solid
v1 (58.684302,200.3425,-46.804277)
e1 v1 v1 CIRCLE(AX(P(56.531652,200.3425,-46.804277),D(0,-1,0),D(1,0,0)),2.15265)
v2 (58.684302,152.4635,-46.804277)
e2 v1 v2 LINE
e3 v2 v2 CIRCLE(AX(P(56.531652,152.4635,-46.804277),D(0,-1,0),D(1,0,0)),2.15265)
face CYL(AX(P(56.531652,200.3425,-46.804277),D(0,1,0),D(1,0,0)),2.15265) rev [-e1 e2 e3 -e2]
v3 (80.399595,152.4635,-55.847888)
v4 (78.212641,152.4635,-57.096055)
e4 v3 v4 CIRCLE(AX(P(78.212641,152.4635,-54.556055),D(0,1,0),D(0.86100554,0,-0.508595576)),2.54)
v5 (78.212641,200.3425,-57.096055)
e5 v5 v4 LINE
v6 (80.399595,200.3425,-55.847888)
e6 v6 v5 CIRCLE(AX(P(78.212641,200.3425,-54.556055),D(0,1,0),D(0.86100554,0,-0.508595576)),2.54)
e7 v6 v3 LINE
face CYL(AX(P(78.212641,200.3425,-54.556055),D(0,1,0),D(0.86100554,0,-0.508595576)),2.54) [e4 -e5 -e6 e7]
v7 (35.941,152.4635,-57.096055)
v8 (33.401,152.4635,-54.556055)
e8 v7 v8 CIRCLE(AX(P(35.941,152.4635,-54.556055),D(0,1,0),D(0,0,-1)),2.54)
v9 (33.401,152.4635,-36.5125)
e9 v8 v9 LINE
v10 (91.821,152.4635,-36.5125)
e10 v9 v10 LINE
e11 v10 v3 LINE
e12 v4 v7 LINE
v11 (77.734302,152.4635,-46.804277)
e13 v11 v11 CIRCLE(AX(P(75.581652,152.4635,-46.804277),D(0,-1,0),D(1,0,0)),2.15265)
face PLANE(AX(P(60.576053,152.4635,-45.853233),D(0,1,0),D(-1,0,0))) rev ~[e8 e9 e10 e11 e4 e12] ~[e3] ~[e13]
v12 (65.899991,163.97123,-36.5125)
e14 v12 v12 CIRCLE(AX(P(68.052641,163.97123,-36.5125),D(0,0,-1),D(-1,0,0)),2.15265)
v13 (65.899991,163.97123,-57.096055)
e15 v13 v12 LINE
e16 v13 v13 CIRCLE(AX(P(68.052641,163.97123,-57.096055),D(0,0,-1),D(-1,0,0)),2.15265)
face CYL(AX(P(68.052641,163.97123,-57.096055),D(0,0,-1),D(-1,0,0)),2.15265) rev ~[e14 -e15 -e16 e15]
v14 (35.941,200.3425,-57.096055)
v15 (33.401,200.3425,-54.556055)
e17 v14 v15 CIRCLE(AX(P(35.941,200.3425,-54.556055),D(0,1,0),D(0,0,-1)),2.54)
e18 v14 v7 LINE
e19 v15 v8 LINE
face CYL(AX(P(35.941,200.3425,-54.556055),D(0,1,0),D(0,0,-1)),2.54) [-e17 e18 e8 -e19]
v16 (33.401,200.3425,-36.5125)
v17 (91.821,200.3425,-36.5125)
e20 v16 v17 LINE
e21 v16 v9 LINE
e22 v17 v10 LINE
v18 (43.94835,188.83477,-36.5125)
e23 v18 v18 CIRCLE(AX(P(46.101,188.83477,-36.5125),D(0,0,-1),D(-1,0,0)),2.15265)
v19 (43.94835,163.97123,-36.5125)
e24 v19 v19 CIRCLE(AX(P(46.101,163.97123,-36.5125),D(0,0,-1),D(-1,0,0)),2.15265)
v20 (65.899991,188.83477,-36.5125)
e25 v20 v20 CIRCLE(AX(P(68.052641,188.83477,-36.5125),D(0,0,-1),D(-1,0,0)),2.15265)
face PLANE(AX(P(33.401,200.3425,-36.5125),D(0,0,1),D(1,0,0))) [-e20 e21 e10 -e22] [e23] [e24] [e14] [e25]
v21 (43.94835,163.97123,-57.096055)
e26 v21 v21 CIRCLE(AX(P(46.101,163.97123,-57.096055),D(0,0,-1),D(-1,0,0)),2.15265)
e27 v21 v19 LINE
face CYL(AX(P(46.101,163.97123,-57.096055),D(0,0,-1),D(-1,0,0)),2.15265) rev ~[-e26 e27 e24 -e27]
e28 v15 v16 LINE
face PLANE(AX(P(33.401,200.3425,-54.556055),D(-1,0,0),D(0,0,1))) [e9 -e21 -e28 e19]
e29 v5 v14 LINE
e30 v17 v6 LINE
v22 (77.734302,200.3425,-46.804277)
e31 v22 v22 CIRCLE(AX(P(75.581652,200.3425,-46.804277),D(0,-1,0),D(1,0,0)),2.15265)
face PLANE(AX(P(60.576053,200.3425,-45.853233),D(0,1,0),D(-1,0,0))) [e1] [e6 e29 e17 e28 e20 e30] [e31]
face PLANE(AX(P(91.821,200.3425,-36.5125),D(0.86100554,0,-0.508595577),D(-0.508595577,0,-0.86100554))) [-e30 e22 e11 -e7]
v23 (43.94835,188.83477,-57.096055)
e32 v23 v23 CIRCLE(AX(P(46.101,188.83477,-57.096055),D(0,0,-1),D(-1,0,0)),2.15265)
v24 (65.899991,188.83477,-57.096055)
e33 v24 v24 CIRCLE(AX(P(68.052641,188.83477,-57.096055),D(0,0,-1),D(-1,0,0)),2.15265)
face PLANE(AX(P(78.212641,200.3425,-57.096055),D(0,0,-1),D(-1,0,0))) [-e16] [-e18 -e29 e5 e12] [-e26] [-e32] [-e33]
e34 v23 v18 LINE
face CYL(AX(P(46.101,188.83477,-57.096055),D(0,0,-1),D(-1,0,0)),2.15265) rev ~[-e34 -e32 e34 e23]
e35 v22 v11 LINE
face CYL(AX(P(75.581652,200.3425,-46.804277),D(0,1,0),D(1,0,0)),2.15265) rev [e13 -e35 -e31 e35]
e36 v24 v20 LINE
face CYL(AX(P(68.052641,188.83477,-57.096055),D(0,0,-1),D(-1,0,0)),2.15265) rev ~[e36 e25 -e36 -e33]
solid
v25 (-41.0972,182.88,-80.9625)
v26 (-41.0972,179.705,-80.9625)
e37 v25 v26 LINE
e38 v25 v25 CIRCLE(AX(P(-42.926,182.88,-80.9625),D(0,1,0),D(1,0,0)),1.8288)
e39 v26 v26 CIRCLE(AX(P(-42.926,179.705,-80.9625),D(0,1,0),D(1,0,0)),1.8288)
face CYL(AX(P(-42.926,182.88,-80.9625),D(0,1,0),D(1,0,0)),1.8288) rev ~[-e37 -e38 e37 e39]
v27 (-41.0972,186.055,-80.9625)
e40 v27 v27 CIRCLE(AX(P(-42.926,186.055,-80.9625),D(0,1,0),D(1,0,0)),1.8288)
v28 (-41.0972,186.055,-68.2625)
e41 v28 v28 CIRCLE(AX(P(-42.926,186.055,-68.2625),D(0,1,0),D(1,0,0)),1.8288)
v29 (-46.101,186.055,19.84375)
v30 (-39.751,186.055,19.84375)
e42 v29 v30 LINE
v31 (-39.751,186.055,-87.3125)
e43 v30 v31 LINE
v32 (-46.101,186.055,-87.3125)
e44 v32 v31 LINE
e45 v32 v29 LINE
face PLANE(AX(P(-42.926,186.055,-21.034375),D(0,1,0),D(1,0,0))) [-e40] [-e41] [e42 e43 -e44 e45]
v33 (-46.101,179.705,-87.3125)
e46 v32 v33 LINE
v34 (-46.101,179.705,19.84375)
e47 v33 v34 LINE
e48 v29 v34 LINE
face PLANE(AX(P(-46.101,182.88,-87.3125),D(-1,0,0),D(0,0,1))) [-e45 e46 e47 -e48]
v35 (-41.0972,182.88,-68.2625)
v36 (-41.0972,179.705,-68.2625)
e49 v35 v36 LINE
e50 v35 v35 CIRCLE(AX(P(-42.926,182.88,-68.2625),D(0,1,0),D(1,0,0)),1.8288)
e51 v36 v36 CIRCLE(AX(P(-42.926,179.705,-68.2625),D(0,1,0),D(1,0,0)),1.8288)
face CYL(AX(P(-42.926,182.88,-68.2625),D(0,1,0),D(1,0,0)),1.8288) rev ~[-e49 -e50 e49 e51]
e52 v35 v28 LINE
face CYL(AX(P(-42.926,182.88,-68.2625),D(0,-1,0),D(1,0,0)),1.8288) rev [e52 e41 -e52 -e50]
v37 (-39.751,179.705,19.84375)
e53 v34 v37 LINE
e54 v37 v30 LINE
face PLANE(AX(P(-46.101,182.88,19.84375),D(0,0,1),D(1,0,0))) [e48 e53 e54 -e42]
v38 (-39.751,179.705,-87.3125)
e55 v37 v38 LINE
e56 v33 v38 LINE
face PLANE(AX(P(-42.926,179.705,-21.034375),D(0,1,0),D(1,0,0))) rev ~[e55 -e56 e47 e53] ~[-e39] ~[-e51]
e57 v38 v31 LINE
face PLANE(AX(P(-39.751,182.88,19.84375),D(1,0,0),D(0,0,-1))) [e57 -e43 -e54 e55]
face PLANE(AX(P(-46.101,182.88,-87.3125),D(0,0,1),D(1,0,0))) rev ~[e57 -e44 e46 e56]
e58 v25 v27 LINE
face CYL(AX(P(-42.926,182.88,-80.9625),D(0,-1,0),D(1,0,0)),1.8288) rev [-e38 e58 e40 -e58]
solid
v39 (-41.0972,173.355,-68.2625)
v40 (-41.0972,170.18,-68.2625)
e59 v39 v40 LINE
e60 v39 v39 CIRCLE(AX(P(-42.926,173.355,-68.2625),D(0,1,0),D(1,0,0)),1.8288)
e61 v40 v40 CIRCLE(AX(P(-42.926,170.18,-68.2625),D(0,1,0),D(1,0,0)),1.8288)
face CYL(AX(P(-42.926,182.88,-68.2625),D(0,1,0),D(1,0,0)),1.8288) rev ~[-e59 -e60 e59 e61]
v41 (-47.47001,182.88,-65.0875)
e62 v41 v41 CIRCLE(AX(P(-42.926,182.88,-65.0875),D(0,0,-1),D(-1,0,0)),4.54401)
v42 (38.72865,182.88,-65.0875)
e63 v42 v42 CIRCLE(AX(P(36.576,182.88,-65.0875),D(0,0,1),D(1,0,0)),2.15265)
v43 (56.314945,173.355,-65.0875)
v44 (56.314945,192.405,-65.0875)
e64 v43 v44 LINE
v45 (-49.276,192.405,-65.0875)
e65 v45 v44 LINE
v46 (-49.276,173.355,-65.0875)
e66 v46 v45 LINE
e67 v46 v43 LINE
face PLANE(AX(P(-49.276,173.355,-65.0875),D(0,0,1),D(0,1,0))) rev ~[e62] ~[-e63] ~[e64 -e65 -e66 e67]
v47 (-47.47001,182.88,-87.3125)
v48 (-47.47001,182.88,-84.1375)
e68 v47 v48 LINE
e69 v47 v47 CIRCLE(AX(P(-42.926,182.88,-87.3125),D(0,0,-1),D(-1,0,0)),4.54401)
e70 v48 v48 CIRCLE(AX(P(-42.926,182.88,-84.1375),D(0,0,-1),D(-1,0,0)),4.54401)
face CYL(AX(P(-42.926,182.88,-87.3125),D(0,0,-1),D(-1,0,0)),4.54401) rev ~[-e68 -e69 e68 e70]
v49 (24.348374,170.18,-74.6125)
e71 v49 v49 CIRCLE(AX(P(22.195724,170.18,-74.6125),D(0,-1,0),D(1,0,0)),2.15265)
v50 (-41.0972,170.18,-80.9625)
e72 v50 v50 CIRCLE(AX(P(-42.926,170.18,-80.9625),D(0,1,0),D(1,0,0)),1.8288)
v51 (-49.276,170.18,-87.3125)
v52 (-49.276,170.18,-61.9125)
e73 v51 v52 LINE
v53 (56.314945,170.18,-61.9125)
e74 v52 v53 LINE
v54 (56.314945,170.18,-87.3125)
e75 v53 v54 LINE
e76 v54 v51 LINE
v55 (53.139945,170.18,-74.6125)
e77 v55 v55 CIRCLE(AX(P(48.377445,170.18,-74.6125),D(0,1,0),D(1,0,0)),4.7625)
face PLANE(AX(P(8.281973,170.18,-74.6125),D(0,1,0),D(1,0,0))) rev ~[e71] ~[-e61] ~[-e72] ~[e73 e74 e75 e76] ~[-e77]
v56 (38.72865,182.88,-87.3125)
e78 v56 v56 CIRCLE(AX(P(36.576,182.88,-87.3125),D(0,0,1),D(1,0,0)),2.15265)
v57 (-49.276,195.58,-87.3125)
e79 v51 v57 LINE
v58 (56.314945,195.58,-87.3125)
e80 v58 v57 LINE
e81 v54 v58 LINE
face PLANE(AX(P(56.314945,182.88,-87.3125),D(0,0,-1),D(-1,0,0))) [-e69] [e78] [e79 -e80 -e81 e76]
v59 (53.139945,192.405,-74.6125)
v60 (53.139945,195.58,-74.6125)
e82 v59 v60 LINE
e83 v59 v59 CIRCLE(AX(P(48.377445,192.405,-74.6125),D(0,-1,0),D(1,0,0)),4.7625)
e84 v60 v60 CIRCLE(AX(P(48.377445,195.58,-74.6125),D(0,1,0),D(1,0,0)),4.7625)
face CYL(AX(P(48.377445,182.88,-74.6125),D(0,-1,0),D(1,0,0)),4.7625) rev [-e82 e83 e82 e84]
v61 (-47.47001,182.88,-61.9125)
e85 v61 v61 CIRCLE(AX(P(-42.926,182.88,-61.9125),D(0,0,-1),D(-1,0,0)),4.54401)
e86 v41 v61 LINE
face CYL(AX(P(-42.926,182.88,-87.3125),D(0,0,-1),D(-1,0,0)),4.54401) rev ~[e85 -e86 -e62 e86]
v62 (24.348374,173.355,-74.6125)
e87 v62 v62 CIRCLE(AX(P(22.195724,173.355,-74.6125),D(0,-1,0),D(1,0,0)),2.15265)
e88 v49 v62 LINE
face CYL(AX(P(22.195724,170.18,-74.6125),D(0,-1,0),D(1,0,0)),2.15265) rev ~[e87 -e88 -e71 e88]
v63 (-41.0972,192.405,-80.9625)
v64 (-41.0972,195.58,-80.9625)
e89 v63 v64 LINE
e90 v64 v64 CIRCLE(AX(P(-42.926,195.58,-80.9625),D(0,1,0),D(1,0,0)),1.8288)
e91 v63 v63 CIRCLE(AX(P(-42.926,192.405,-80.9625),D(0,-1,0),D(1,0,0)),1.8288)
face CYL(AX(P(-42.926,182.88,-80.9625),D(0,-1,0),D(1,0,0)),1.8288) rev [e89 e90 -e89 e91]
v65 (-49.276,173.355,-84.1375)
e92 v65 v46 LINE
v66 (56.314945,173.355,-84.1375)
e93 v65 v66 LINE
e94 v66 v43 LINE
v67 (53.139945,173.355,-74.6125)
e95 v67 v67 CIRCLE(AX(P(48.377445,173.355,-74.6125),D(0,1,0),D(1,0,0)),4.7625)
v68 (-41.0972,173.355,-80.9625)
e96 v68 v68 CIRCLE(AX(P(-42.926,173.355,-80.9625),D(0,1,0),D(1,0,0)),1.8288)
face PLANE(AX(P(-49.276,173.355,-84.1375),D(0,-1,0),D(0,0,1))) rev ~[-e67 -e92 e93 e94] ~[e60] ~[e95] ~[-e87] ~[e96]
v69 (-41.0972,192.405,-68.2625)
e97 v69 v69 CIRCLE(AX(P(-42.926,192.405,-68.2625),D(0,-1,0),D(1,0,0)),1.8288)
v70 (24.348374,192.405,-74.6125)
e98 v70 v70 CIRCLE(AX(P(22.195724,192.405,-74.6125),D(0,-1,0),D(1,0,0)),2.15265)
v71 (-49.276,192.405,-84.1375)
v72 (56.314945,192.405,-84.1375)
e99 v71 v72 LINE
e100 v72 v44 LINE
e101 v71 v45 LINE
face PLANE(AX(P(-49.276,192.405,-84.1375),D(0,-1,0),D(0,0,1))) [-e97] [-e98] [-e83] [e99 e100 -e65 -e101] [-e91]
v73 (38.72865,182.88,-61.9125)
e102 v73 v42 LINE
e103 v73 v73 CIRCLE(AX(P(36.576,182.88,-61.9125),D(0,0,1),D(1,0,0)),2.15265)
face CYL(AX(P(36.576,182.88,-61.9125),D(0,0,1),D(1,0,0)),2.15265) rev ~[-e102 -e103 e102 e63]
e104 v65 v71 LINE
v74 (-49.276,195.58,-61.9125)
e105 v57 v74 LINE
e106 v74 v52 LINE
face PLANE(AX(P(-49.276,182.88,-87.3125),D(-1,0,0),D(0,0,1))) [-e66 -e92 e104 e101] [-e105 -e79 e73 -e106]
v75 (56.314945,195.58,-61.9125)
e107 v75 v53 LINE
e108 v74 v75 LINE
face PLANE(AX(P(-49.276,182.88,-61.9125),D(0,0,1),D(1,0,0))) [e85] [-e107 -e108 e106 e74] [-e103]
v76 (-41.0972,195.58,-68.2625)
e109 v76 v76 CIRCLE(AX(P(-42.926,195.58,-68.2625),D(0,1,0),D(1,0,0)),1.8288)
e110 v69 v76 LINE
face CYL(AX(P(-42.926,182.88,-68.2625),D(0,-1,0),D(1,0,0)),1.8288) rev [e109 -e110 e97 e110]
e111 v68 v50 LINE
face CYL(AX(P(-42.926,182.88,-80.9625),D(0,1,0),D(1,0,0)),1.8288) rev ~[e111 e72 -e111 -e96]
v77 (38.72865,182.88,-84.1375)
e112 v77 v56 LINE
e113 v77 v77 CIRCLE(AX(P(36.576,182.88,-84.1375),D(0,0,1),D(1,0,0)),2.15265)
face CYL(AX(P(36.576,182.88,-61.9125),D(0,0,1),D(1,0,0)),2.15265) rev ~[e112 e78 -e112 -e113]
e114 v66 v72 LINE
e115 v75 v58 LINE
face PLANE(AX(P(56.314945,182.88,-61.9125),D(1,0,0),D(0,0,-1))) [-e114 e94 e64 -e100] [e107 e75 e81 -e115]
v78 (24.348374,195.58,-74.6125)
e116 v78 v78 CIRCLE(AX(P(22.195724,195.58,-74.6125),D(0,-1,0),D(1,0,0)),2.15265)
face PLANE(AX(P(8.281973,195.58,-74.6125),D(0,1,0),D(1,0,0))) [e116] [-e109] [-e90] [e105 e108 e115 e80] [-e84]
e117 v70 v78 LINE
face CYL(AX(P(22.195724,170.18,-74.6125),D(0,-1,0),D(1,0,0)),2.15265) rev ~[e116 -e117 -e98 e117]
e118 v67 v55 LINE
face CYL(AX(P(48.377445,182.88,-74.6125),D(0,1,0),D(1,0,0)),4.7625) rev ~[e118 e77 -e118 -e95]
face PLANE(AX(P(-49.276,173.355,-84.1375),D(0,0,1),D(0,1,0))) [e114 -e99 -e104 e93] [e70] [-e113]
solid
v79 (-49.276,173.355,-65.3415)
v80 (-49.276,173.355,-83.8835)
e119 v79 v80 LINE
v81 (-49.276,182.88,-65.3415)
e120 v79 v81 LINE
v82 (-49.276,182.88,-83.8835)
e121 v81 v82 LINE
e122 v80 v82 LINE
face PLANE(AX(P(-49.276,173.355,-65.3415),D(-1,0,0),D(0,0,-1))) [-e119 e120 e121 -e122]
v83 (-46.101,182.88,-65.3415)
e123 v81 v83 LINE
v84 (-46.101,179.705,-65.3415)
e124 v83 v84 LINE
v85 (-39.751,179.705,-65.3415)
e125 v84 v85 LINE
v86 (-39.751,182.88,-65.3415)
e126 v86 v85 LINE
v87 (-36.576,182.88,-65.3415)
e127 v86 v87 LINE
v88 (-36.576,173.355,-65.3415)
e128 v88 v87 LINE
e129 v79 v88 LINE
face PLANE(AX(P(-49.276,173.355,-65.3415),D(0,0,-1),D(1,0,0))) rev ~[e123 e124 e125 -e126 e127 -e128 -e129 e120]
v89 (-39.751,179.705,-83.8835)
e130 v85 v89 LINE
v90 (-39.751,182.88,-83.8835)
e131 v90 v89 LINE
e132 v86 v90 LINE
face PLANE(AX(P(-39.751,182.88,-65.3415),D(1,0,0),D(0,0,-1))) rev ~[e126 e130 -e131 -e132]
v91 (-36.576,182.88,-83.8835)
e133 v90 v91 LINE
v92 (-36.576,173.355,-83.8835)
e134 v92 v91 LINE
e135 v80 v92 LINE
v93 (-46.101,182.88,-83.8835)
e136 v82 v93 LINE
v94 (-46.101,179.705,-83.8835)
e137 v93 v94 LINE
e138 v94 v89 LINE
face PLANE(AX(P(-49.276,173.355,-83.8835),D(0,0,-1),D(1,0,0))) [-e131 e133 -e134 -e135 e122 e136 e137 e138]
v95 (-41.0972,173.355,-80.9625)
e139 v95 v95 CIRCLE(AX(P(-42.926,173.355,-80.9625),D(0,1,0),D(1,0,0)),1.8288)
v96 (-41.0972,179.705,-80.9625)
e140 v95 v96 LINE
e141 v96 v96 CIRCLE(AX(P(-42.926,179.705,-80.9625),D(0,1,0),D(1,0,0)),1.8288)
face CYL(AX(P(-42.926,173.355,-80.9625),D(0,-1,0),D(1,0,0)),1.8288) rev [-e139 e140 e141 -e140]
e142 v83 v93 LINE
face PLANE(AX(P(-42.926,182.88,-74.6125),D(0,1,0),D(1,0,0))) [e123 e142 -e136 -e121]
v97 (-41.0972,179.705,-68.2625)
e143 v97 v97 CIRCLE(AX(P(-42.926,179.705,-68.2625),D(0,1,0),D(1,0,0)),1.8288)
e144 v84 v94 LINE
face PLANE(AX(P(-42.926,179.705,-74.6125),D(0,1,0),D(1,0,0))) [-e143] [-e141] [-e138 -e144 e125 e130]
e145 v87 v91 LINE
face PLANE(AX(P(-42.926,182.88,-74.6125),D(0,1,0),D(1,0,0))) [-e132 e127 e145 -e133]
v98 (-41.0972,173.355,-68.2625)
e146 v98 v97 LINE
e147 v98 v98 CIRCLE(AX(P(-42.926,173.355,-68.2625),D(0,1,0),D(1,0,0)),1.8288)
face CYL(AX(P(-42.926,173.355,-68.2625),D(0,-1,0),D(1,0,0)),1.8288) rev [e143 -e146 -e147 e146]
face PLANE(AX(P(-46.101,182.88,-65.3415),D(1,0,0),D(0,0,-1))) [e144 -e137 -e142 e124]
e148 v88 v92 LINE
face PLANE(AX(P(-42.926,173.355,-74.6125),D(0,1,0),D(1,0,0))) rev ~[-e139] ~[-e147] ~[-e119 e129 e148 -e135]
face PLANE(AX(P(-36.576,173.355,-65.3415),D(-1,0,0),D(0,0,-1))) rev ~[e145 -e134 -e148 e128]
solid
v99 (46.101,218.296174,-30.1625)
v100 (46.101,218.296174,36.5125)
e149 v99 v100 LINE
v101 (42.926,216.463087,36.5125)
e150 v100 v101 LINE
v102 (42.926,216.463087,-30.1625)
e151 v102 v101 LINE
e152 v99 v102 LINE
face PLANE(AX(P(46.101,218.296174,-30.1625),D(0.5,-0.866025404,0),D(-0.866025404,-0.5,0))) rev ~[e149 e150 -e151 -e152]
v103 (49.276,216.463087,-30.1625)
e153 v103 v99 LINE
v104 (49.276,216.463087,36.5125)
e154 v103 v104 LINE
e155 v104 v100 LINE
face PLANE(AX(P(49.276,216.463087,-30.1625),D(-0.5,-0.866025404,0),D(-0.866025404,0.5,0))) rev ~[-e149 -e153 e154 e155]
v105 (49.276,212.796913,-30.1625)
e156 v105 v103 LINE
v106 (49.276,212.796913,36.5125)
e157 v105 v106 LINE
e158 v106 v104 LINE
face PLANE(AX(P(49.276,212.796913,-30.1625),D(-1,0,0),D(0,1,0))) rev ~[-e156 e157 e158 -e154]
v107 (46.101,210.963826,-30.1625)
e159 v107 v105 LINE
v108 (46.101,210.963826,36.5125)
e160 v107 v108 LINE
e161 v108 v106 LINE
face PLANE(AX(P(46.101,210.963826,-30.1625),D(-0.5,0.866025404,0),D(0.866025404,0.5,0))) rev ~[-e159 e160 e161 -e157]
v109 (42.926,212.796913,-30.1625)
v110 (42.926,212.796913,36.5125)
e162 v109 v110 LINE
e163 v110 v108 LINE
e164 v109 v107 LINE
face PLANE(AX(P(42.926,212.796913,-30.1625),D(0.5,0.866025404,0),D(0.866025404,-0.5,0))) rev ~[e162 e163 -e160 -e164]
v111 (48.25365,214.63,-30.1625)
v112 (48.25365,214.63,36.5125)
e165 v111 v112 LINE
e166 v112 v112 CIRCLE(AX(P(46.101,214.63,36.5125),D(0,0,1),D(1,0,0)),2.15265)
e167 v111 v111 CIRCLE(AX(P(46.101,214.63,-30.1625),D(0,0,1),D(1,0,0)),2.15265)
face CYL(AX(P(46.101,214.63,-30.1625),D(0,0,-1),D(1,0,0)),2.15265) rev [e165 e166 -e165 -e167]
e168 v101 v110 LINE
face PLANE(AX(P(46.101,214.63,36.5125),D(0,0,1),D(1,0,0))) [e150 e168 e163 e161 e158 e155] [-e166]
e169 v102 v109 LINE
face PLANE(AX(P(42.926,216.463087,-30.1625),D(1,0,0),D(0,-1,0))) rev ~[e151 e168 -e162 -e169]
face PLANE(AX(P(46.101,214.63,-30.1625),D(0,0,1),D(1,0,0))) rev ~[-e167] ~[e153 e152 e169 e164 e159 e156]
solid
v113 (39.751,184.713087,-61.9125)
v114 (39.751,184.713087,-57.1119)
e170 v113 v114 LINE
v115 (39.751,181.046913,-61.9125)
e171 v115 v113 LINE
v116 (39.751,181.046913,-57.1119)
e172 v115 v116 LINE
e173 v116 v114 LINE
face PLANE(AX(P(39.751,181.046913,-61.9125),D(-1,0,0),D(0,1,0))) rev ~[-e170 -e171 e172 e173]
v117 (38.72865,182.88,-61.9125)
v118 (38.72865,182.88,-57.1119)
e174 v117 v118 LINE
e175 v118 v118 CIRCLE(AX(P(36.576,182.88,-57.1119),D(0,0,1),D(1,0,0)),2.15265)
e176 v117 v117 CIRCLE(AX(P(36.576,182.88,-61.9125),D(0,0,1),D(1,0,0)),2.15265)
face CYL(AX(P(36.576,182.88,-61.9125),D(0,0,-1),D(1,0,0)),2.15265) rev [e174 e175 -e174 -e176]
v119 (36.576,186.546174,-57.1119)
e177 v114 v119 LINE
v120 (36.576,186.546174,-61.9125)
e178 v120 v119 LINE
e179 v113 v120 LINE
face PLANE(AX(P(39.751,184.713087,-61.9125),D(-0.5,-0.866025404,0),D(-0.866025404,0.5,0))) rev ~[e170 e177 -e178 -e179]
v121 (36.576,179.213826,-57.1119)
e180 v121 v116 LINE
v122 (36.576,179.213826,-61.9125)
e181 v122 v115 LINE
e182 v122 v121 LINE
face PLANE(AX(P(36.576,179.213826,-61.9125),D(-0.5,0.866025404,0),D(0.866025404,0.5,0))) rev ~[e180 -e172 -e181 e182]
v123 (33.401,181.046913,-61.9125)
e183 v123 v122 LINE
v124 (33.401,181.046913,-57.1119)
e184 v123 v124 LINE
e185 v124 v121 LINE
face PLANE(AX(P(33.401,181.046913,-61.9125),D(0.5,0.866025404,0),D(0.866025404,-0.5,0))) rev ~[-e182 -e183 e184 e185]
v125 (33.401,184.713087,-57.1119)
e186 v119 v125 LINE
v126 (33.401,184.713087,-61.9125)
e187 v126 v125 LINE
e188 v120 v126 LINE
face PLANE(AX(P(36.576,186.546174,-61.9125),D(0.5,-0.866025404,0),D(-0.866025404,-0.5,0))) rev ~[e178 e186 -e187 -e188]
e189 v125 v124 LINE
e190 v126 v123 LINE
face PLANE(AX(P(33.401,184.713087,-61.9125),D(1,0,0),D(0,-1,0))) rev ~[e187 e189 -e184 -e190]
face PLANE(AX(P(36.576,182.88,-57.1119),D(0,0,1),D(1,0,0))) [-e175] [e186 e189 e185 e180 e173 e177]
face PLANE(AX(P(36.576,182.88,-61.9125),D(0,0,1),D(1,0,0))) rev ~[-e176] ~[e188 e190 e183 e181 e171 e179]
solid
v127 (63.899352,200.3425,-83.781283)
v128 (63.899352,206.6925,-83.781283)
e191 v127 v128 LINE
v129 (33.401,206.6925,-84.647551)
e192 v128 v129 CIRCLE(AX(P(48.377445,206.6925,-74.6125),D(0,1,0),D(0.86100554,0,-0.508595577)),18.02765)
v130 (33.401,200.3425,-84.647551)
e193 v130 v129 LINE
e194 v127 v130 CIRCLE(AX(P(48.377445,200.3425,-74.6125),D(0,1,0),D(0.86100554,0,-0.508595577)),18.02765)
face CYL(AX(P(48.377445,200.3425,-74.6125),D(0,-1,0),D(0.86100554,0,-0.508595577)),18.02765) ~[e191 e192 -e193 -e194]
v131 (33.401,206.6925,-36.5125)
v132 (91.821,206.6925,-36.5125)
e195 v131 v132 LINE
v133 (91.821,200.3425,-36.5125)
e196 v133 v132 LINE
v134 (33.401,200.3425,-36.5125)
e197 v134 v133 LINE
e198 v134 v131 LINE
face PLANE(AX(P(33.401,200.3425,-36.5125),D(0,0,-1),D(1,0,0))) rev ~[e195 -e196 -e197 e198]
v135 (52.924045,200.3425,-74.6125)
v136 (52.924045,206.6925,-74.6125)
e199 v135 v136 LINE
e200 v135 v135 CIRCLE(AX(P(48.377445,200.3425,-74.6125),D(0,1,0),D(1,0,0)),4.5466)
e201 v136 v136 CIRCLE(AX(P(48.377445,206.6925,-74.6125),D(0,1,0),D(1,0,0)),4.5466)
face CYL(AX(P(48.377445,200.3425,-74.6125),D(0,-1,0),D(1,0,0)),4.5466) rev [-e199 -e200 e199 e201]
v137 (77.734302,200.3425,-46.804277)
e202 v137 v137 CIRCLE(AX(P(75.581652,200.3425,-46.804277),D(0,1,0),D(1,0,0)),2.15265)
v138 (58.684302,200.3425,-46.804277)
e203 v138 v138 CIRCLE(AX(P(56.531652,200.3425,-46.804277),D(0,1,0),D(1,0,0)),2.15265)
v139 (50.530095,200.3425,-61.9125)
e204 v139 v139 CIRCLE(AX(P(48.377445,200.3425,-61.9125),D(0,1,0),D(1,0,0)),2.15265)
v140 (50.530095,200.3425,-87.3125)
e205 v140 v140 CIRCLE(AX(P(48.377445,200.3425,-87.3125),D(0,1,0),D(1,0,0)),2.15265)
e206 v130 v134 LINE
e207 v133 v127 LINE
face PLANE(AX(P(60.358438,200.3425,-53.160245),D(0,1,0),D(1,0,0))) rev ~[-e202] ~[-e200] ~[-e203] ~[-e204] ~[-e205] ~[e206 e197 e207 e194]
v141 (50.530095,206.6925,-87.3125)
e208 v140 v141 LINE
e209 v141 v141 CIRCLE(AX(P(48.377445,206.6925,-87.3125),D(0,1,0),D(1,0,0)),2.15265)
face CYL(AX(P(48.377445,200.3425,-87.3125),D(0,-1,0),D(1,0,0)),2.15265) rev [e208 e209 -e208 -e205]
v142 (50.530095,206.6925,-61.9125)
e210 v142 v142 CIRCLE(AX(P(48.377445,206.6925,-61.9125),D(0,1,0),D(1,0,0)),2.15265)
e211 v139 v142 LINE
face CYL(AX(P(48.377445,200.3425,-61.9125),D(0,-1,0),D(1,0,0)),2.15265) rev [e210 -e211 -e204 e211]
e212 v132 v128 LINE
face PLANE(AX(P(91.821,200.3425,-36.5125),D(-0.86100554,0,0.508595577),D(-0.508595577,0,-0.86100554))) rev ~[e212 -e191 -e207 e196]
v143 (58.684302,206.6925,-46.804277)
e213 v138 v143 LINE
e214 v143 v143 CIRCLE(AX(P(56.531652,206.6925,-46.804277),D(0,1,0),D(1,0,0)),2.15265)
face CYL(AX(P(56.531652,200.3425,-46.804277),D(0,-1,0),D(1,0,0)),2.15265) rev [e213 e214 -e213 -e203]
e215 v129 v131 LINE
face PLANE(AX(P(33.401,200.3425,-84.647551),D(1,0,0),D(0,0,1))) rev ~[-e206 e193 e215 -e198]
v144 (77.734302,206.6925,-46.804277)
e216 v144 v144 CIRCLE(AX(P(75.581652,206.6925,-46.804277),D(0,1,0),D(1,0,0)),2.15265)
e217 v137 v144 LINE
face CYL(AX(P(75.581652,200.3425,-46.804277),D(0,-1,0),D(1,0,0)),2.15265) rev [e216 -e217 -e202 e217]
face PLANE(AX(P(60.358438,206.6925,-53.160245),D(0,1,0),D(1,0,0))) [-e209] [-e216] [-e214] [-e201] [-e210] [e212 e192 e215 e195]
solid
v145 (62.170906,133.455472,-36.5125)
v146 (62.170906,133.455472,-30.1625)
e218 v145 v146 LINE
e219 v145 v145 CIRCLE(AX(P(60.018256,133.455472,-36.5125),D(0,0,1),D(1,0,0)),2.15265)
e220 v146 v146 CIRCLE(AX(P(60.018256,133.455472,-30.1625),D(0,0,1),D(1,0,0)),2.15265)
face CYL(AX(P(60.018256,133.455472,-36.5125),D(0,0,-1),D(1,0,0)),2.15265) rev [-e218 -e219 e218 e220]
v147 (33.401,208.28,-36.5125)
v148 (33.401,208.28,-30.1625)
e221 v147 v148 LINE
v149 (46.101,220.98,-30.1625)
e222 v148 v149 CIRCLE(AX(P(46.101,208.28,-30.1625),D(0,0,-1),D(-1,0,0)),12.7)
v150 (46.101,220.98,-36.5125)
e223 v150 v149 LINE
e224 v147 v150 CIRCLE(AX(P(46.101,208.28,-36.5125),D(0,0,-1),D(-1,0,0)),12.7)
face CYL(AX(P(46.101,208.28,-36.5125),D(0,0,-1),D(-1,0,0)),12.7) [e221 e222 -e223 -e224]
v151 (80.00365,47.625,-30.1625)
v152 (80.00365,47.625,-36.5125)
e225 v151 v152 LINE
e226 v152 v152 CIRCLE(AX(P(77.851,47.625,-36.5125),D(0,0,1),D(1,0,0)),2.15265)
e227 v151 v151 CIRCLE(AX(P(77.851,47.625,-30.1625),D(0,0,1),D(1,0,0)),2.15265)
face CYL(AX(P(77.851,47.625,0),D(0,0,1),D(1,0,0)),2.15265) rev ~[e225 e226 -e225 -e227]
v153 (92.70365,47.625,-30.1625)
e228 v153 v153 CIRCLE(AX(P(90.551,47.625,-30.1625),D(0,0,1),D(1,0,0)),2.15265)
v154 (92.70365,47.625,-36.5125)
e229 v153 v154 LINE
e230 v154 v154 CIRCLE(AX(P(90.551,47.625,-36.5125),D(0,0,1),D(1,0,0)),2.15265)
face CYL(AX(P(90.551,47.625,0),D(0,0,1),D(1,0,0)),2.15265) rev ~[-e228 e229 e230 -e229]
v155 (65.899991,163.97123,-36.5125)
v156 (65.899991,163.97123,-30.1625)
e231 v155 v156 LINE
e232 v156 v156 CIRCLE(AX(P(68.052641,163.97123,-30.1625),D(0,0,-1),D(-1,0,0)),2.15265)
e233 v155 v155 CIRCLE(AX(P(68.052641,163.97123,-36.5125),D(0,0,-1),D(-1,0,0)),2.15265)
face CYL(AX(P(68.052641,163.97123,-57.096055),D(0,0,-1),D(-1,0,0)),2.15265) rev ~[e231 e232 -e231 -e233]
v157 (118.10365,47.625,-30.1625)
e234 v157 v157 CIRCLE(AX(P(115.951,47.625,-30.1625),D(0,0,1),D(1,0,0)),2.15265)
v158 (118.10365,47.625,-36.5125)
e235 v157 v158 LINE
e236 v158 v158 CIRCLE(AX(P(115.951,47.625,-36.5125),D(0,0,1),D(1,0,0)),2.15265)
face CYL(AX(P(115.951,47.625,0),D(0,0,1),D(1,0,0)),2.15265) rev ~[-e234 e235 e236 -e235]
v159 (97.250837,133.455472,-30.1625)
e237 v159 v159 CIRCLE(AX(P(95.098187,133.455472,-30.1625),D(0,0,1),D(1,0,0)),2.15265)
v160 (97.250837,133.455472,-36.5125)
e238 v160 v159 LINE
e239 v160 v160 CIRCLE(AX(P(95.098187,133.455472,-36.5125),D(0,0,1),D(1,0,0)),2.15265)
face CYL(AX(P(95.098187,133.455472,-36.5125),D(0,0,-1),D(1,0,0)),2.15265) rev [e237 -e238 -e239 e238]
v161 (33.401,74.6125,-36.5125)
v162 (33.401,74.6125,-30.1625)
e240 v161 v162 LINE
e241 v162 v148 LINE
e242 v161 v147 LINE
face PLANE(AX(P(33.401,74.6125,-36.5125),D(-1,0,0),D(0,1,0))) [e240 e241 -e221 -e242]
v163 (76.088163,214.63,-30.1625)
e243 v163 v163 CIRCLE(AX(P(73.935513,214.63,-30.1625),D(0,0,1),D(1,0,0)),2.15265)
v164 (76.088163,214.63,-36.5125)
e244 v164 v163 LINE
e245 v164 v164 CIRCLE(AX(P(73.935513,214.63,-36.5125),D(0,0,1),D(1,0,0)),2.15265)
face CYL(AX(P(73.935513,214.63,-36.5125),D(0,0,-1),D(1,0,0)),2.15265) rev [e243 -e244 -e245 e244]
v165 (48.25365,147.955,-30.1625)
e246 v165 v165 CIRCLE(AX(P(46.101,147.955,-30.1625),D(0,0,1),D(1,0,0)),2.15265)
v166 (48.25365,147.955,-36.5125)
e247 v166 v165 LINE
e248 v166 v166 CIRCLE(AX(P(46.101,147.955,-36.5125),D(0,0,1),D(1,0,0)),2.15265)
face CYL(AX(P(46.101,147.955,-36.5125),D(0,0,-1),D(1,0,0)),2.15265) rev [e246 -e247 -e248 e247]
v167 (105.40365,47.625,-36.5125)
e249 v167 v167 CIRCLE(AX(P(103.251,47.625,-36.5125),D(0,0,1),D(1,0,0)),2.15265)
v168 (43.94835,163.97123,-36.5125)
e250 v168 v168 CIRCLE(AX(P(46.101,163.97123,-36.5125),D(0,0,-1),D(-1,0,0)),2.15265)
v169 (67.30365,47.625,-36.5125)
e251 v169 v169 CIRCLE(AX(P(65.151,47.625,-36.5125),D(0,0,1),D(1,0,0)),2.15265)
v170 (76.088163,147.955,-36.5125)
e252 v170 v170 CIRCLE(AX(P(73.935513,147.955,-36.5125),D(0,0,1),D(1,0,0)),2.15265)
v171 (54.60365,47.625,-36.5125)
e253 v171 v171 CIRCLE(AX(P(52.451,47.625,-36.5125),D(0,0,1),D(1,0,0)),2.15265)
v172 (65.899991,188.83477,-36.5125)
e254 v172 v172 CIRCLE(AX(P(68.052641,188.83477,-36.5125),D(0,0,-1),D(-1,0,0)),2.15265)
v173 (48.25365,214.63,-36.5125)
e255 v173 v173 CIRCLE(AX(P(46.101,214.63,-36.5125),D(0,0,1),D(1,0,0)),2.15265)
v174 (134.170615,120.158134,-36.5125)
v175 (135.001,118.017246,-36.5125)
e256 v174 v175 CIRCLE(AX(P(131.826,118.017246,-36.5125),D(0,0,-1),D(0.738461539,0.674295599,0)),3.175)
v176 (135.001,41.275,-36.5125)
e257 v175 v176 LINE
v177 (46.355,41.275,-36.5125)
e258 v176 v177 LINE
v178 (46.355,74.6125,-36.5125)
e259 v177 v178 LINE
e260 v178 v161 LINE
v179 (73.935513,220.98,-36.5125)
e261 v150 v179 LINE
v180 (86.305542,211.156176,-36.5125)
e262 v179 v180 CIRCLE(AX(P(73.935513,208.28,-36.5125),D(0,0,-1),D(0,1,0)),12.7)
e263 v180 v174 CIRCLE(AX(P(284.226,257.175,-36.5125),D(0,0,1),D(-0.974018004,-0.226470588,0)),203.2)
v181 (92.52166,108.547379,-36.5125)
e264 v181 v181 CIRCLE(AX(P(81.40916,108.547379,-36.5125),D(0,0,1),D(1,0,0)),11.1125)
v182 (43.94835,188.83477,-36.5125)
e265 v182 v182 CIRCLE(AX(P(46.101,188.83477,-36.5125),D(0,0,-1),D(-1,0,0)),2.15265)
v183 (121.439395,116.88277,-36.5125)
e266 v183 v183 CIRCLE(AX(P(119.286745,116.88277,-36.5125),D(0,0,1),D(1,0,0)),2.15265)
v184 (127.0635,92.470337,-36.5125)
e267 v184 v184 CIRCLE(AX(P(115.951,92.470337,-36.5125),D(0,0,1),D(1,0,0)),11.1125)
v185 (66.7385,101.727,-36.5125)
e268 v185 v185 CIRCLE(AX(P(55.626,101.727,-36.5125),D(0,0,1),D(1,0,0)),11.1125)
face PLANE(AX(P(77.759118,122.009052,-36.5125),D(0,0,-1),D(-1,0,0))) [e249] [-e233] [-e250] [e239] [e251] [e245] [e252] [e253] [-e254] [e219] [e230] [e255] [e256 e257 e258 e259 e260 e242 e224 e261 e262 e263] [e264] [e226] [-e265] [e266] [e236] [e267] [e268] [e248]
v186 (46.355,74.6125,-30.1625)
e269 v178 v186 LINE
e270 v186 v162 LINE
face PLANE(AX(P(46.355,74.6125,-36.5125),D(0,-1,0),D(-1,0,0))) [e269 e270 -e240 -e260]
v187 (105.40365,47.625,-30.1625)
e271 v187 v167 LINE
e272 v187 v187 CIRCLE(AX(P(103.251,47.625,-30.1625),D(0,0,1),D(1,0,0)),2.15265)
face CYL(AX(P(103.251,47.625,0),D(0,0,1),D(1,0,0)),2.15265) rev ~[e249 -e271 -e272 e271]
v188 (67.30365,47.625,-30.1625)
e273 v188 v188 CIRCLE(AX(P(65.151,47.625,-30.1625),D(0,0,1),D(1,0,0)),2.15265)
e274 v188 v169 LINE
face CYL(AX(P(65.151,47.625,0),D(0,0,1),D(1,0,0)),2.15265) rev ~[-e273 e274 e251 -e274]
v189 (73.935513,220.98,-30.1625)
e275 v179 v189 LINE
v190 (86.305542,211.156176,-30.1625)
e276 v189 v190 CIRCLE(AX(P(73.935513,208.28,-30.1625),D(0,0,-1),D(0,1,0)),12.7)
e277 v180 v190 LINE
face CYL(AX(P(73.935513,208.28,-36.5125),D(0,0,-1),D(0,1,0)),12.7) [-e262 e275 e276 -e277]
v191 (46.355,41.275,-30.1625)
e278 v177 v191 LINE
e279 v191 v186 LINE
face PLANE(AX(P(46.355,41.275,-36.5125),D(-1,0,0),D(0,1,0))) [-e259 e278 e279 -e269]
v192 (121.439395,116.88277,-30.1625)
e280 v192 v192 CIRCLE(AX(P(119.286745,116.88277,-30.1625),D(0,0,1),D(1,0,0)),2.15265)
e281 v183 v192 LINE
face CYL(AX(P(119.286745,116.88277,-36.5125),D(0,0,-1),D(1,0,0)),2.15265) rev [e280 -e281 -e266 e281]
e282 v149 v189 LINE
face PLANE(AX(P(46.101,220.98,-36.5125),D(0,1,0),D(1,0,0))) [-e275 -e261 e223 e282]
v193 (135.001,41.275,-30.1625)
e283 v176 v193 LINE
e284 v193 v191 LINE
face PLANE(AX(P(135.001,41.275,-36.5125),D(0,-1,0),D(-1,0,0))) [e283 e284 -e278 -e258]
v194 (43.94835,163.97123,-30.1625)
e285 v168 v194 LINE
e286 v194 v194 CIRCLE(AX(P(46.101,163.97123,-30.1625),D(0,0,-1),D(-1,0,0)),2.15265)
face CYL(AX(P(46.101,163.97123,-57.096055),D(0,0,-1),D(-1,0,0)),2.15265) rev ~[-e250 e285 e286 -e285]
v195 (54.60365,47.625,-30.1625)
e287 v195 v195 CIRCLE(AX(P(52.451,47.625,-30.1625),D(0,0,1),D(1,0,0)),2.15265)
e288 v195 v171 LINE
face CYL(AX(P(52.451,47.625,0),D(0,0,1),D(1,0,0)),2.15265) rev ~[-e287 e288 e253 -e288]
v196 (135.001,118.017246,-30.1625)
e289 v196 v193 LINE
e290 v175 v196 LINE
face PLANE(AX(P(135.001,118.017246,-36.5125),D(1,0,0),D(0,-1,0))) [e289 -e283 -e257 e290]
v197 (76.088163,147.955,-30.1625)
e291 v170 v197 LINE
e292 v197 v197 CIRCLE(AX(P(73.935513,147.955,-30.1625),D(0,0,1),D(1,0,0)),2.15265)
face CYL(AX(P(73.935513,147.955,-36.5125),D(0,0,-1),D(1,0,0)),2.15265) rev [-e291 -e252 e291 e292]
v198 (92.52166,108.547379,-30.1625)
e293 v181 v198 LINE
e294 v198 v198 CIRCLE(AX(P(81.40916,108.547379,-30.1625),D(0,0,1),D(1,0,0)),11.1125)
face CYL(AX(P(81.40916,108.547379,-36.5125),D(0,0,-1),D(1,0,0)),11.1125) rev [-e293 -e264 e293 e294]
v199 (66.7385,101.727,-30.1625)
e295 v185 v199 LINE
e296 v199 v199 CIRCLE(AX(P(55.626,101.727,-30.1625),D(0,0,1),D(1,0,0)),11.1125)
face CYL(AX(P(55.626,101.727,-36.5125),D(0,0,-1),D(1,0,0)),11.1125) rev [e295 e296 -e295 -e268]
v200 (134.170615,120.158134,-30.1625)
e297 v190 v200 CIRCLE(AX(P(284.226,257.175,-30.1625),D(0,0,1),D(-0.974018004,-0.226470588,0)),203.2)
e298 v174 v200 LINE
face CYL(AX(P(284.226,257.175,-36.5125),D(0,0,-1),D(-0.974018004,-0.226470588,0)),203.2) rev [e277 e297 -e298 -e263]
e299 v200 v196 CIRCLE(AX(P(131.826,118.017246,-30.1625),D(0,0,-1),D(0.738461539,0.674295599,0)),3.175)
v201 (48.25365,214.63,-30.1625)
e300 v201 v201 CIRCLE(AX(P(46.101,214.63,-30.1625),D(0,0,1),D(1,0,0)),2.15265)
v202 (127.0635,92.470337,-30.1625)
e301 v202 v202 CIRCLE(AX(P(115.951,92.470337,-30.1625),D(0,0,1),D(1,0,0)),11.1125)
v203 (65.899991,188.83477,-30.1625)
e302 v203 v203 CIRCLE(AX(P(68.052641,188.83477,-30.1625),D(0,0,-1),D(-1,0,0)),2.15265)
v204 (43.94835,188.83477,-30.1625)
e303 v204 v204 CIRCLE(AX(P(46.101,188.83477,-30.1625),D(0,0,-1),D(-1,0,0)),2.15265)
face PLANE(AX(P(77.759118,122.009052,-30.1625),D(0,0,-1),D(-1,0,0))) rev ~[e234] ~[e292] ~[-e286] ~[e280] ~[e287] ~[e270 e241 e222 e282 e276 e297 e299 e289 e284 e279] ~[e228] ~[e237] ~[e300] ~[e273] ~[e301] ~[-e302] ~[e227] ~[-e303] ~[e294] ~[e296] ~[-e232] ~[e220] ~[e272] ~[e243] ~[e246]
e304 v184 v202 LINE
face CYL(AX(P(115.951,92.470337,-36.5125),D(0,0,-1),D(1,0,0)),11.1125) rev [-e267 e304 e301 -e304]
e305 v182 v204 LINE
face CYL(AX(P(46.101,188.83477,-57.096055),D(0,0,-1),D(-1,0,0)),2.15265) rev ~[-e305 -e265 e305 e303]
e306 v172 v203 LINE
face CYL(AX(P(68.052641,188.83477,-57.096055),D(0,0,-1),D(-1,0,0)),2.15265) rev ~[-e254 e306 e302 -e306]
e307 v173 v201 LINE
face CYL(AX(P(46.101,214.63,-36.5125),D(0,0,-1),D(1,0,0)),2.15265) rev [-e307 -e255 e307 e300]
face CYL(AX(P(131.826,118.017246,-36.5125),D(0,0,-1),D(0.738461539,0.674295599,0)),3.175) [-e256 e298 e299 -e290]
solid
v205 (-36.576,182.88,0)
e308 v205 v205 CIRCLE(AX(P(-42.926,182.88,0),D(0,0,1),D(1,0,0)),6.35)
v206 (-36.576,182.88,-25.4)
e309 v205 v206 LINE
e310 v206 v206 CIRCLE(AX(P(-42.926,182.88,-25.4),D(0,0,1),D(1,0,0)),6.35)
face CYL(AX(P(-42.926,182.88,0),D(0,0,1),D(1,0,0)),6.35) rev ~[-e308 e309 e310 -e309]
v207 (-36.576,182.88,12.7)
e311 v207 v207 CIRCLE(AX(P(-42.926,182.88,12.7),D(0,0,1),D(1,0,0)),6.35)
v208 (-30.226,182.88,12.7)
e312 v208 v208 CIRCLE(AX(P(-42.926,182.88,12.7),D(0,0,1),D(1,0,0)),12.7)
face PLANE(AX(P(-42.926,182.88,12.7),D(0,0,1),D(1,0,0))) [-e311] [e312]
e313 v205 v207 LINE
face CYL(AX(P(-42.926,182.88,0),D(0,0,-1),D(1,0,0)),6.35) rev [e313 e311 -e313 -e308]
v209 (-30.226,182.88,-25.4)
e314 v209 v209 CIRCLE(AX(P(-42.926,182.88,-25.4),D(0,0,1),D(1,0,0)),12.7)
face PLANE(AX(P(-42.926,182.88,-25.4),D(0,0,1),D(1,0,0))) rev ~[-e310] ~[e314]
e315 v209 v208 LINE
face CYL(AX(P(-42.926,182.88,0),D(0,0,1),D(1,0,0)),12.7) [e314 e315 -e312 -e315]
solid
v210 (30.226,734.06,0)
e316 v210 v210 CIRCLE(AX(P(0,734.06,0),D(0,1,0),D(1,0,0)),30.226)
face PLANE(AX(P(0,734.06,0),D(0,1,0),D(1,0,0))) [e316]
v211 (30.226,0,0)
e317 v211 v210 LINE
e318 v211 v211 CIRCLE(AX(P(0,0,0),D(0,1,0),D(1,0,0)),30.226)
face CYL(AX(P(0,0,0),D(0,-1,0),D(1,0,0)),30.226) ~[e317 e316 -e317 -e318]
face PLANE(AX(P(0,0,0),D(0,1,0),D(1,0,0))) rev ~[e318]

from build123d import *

# Parameters (mm, degrees)
ELEVATION_BAR_R            = 30.226
ELEVATION_BAR_PART_DEPTH   = 734.06
CLAMP_GEO_R                = 4.7625
CLAMP_GEO_W                = 6.35
CLAMP_GEO_H                = 12.7
CLAMP_GEO_R_2              = 1.8288
BOSS_EXTRUDE1_DEPTH        = 12.7
BOSS_EXTRUDE1_DEPTH_BACK   = 12.7
SKETCH2_W                  = 19.05
SKETCH2_H                  = 19.05
CUT_EXTRUDE2_DEPTH         = 105.590945
SKETCH3_R                  = 4.544009597
CUT_EXTRUDE3_DEPTH         = 25.4
CLAMP_GEO_3_W              = 6.35
CLAMP_GEO_3_H              = 81.75625
CLAMP_GEO_3_H_2            = 12.7
CLAMP_GEO_3_R              = 1.8288
BOSS_EXTRUDE2_DEPTH        = 3.175
BOSS_EXTRUDE2_DEPTH_BACK   = 3.175
CUSTOM_DRIVEN_FLYWHEEL_R   = 12.7
CUSTOM_DRIVEN_FLYWHEEL_R_2 = 6.35
BOSS_EXTRUDE3_DEPTH        = 12.7
BOSS_EXTRUDE3_DEPTH_BACK   = 25.4
SKETCH8_W                  = 12.7
SKETCH8_H                  = 18.542
SKETCH8_R                  = 1.8288
BOSS_EXTRUDE5_DEPTH        = 9.525
SKETCH10_W                 = 6.35
SKETCH10_H                 = 18.542
SKETCH10_R                 = 1.8288
CUT_EXTRUDE5_DEPTH         = 3.175
SKETCH17_R                 = 11.1125
SKETCH17_R_2               = 2.15265
BOSS_EXTRUDE6_DEPTH        = 6.35
SKETCH19_R                 = 2.15265
CUT_EXTRUDE6_DEPTH         = 36.5125
SKETCH23_R                 = 2.15265
SKETCH23_R_2               = 4.5466
BOSS_EXTRUDE7_DEPTH        = 6.35
SKETCH25_R                 = 2.15265
BOSS_EXTRUDE8_DEPTH        = 47.879
SKETCH26_R                 = 2.15265
CUT_EXTRUDE8_DEPTH         = 26.933555
SKETCH27_R                 = 2.15265
BOSS_EXTRUDE9_DEPTH        = 66.675
SKETCH28_R                 = 2.15265
BOSS_EXTRUDE10_DEPTH       = 4.8006
SKETCH31_R                 = 2.15265
CUT_EXTRUDE9_DEPTH         = 25.4
SKETCH33_R                 = 2.15265
CUT_EXTRUDE10_DEPTH        = 25.4


with BuildPart() as part:
    # Elevation Bar → Elevation Bar Part (new body)
    with BuildSketch(Plane(origin=(0, 0, 0), x_dir=(1, 0, 0), z_dir=(0, 1, 0))):
        Circle(ELEVATION_BAR_R)
    extrude(amount=ELEVATION_BAR_PART_DEPTH)


with BuildPart() as body_2:
    # Clamp Geo → Boss-Extrude1 (new body, two sides)
    with BuildSketch(Plane(origin=(0, 182.88, 0), x_dir=(1, 0, 0), z_dir=(0, 1, 0))) as boss_extrude1_sk:
        Polygon((39.751, 61.9125), (56.314945047, 61.9125), (56.314945047, 87.3125), (-39.751, 87.3125), (-39.751, 74.6125), (-39.751, 61.9125), (33.401, 61.9125), align=None)
        with Locations((48.377445047, 74.6125)):
            Circle(CLAMP_GEO_R, mode=Mode.SUBTRACT)
        Polygon((-46.101, 74.6125), (-46.101, 87.3125), (-49.276, 87.3125), (-49.276, 61.9125), (-46.101, 61.9125), align=None)
        with Locations((-42.926, 68.2625)):
            Rectangle(CLAMP_GEO_W, CLAMP_GEO_H)
        with Locations((-42.926, 68.2625)):
            Circle(CLAMP_GEO_R_2, mode=Mode.SUBTRACT)
        with Locations((-42.926, 80.9625)):
            Rectangle(CLAMP_GEO_W, CLAMP_GEO_H)
        with Locations((-42.926, 80.9625)):
            Circle(CLAMP_GEO_R_2, mode=Mode.SUBTRACT)
    extrude(amount=BOSS_EXTRUDE1_DEPTH)
    extrude(boss_extrude1_sk.sketch, amount=-BOSS_EXTRUDE1_DEPTH_BACK)

    # Sketch2 → Cut-Extrude2 (cut)
    with BuildSketch(Plane.ZY.offset(49.276)):
        with Locations((-74.6125, 182.88)):
            Rectangle(SKETCH2_W, SKETCH2_H)
    extrude(amount=-CUT_EXTRUDE2_DEPTH, mode=Mode.SUBTRACT)

    # Sketch3 → Cut-Extrude3 (cut)
    with BuildSketch(Plane(origin=(0, 0, -87.3125), x_dir=(-1, 0, 0), z_dir=(0, 0, -1))):
        with Locations((42.926, 182.88)):
            Circle(SKETCH3_R)
    extrude(amount=-CUT_EXTRUDE3_DEPTH, mode=Mode.SUBTRACT)

    # Sketch31 → Cut-Extrude9 (cut)
    with BuildSketch(Plane.XY.offset(-61.9125)):
        with Locations((36.576, 182.88)):
            Circle(SKETCH31_R)
    extrude(amount=-CUT_EXTRUDE9_DEPTH, mode=Mode.SUBTRACT)

    # Sketch33 → Cut-Extrude10 (cut)
    with BuildSketch(Plane.XZ.offset(-170.18)):
        with Locations((22.195724324, -74.6125)):
            Circle(SKETCH33_R)
    extrude(amount=-CUT_EXTRUDE10_DEPTH, mode=Mode.SUBTRACT)


with BuildPart() as body_3:
    # Clamp Geo<3> → Boss-Extrude2 (new body, two sides)
    with BuildSketch(Plane(origin=(0, 182.88, 0), x_dir=(1, 0, 0), z_dir=(0, 1, 0))) as boss_extrude2_sk:
        with Locations((-42.926, 21.034375)):
            Rectangle(CLAMP_GEO_3_W, CLAMP_GEO_3_H)
        with Locations((-42.926, 68.2625)):
            Rectangle(CLAMP_GEO_3_W, CLAMP_GEO_3_H_2)
        with Locations((-42.926, 68.2625)):
            Circle(CLAMP_GEO_3_R, mode=Mode.SUBTRACT)
        with Locations((-42.926, 80.9625)):
            Rectangle(CLAMP_GEO_3_W, CLAMP_GEO_3_H_2)
        with Locations((-42.926, 80.9625)):
            Circle(CLAMP_GEO_3_R, mode=Mode.SUBTRACT)
    extrude(amount=BOSS_EXTRUDE2_DEPTH)
    extrude(boss_extrude2_sk.sketch, amount=-BOSS_EXTRUDE2_DEPTH_BACK)


with BuildPart() as body_4:
    # Custom Driven Flywheel → Boss-Extrude3 (new body, two sides)
    with BuildSketch(Plane.XY) as boss_extrude3_sk:
        with Locations((-42.926, 182.88)):
            Circle(CUSTOM_DRIVEN_FLYWHEEL_R)
        with Locations((-42.926, 182.88)):
            Circle(CUSTOM_DRIVEN_FLYWHEEL_R_2, mode=Mode.SUBTRACT)
    extrude(amount=BOSS_EXTRUDE3_DEPTH)
    extrude(boss_extrude3_sk.sketch, amount=-BOSS_EXTRUDE3_DEPTH_BACK)


with BuildPart() as body_5:
    # Sketch8 → Boss-Extrude5 (new body)
    with BuildSketch(Plane(origin=(0, 173.355, 0), x_dir=(1, 0, 0), z_dir=(0, 1, 0))):
        with Locations((-42.926, 74.6125)):
            Rectangle(SKETCH8_W, SKETCH8_H)
        with Locations((-42.926, 80.9625)):
            Circle(SKETCH8_R, mode=Mode.SUBTRACT)
        with Locations((-42.926, 68.2625)):
            Circle(SKETCH8_R, mode=Mode.SUBTRACT)
    extrude(amount=BOSS_EXTRUDE5_DEPTH)

    # Sketch10 → Cut-Extrude5 (cut)
    with BuildSketch(Plane(origin=(0, 182.88, 0), x_dir=(1, 0, 0), z_dir=(0, 1, 0))):
        with Locations((-42.926, 74.6125)):
            Rectangle(SKETCH10_W, SKETCH10_H)
        with Locations((-42.926, 68.2625)):
            Circle(SKETCH10_R, mode=Mode.SUBTRACT)
        with Locations((-42.926, 80.9625)):
            Circle(SKETCH10_R, mode=Mode.SUBTRACT)
    extrude(amount=-CUT_EXTRUDE5_DEPTH, mode=Mode.SUBTRACT)


with BuildPart() as body_6:
    # Sketch17 → Boss-Extrude6 (new body)
    with BuildSketch(Plane.XY.offset(-36.5125)):
        with BuildLine():
            Line((135.001, 118.017245545), (135.001, 73.152))
            Line((135.001, 73.152), (135.001, 41.275))
            Line((135.001, 41.275), (46.355, 41.275))
            Line((46.355, 41.275), (46.355, 74.6125))
            Line((46.355, 74.6125), (33.401, 74.6125))
            Line((33.401, 74.6125), (33.401, 208.28))
            ThreePointArc((33.401, 208.28), (37.120743879, 217.260256121), (46.101, 220.98))
            Line((46.101, 220.98), (73.935512876, 220.98))
            ThreePointArc((73.935512876, 220.98), (81.833694908, 218.22528635), (86.30554153, 211.156176471))
            ThreePointArc((86.30554153, 211.156176471), (104.387300681, 162.579639504), (134.170615385, 120.158134075))
            ThreePointArc((134.170615385, 120.158134075), (134.786133345, 119.165389951), (135.001, 118.017245545))
        make_face()
        with Locations((55.626, 101.727)):
            Circle(SKETCH17_R, mode=Mode.SUBTRACT)
        with Locations((81.409159883, 108.54737876)):
            Circle(SKETCH17_R, mode=Mode.SUBTRACT)
        with Locations((115.951, 92.470336702)):
            Circle(SKETCH17_R, mode=Mode.SUBTRACT)
        with Locations((46.101, 214.63)):
            Circle(SKETCH17_R_2, mode=Mode.SUBTRACT)
        with Locations((73.935512876, 214.63)):
            Circle(SKETCH17_R_2, mode=Mode.SUBTRACT)
        with Locations((119.286745244, 116.882770029)):
            Circle(SKETCH17_R_2, mode=Mode.SUBTRACT)
        with Locations((46.101, 147.955)):
            Circle(SKETCH17_R_2, mode=Mode.SUBTRACT)
        with Locations((73.935512876, 147.955)):
            Circle(SKETCH17_R_2, mode=Mode.SUBTRACT)
        with Locations((60.018256438, 133.455471594)):
            Circle(SKETCH17_R_2, mode=Mode.SUBTRACT)
        with Locations((95.098187154, 133.455471594)):
            Circle(SKETCH17_R_2, mode=Mode.SUBTRACT)
    extrude(amount=BOSS_EXTRUDE6_DEPTH)

    # Sketch19 → Cut-Extrude6 (cut)
    with BuildSketch(Plane.XY):
        with Locations((39.751, 47.625)):
            Circle(SKETCH19_R)
        with Locations((52.451, 47.625)):
            Circle(SKETCH19_R)
        with Locations((65.151, 47.625)):
            Circle(SKETCH19_R)
        with Locations((77.851, 47.625)):
            Circle(SKETCH19_R)
        with Locations((90.551, 47.625)):
            Circle(SKETCH19_R)
        with Locations((103.251, 47.625)):
            Circle(SKETCH19_R)
        with Locations((115.951, 47.625)):
            Circle(SKETCH19_R)
    extrude(amount=-CUT_EXTRUDE6_DEPTH, mode=Mode.SUBTRACT)


with BuildPart() as body_7:
    # Sketch23 → Boss-Extrude7 (new body)
    with BuildSketch(Plane(origin=(0, 200.3425, 0), x_dir=(1, 0, 0), z_dir=(0, 1, 0))):
        with BuildLine():
            ThreePointArc((63.899351564, 83.78128305), (57.983234825, 59.357174134), (33.401, 64.577448517))
            Line((33.401, 64.577448517), (33.401, 36.5125))
            Line((33.401, 36.5125), (91.821, 36.5125))
            Line((91.821, 36.5125), (63.899351564, 83.78128305))
        make_face()
        with Locations((56.531651772, 46.804277476)):
            Circle(SKETCH23_R, mode=Mode.SUBTRACT)
        with Locations((75.581651772, 46.804277476)):
            Circle(SKETCH23_R, mode=Mode.SUBTRACT)
        with BuildLine():
            ThreePointArc((63.899351564, 83.78128305), (48.889292, 92.632882272), (33.401, 84.647551483))
            Line((33.401, 84.647551483), (33.401, 64.577448517))
            ThreePointArc((33.401, 64.577448517), (57.983234825, 59.357174134), (63.899351564, 83.78128305))
        make_face()
        with Locations((48.377445047, 61.9125)):
            Circle(SKETCH23_R, mode=Mode.SUBTRACT)
        with Locations((48.377445047, 74.6125)):
            Circle(SKETCH23_R_2, mode=Mode.SUBTRACT)
        with Locations((48.377445047, 87.3125)):
            Circle(SKETCH23_R, mode=Mode.SUBTRACT)
    extrude(amount=BOSS_EXTRUDE7_DEPTH)


with BuildPart() as body_8:
    # Sketch25 → Boss-Extrude8 (new body)
    with BuildSketch(Plane.XZ.offset(-200.3425)):
        with BuildLine():
            Line((91.821, -36.5125), (80.399595356, -55.847887718))
            ThreePointArc((80.399595356, -55.847887718), (79.471677579, -56.762053052), (78.212641285, -57.096054953))
            Line((78.212641285, -57.096054953), (35.941, -57.096054953))
            ThreePointArc((35.941, -57.096054953), (34.144948776, -56.352106177), (33.401, -54.556054953))
            Line((33.401, -54.556054953), (33.401, -36.5125))
            Line((33.401, -36.5125), (91.821, -36.5125))
        make_face()
        with Locations((56.531651772, -46.804277476)):
            Circle(SKETCH25_R, mode=Mode.SUBTRACT)
        with Locations((75.581651772, -46.804277476)):
            Circle(SKETCH25_R, mode=Mode.SUBTRACT)
    extrude(amount=BOSS_EXTRUDE8_DEPTH)


with BuildPart() as cut_extrude8_tool:
    # Sketch26 → Cut-Extrude8 (new body)
    with BuildSketch(Plane(origin=(0, 0, -57.096054953), x_dir=(-1, 0, 0), z_dir=(0, 0, -1))):
        with Locations((-68.052641285, 188.834769872)):
            Circle(SKETCH26_R)
        with Locations((-68.052641285, 163.971230128)):
            Circle(SKETCH26_R)
        with Locations((-46.101, 163.971230128)):
            Circle(SKETCH26_R)
        with Locations((-46.101, 188.834769872)):
            Circle(SKETCH26_R)
    extrude(amount=-CUT_EXTRUDE8_DEPTH)


with BuildPart() as body_6_1:
    add(body_6.part)

    # Cut-Extrude8: cut by cut_extrude8_tool
    add(cut_extrude8_tool.part, mode=Mode.SUBTRACT)


with BuildPart() as body_8_1:
    add(body_8.part)

    # Cut-Extrude8: cut by cut_extrude8_tool
    add(cut_extrude8_tool.part, mode=Mode.SUBTRACT)


with BuildPart() as body_9:
    # Sketch27 → Boss-Extrude9 (new body)
    with BuildSketch(Plane.XY.offset(-30.1625)):
        Polygon((42.926, 216.463087105), (42.926, 212.796912895), (46.101, 210.963825791), (49.276, 212.796912895), (49.276, 216.463087105), (46.101, 218.296174209), align=None)
        with Locations((46.101, 214.63)):
            Circle(SKETCH27_R, mode=Mode.SUBTRACT)
    extrude(amount=BOSS_EXTRUDE9_DEPTH)


with BuildPart() as body_10:
    # Sketch28 → Boss-Extrude10 (new body)
    with BuildSketch(Plane.XY.offset(-61.9125)):
        Polygon((33.401, 184.713087105), (33.401, 181.046912895), (36.576, 179.213825791), (39.751, 181.046912895), (39.751, 184.713087105), (36.576, 186.546174209), align=None)
        with Locations((36.576, 182.88)):
            Circle(SKETCH28_R, mode=Mode.SUBTRACT)
    extrude(amount=BOSS_EXTRUDE10_DEPTH)


solid = Compound([part.part, body_2.part, body_3.part, body_4.part, body_5.part, body_7.part, body_6_1.part, body_8_1.part, body_9.part, body_10.part])
